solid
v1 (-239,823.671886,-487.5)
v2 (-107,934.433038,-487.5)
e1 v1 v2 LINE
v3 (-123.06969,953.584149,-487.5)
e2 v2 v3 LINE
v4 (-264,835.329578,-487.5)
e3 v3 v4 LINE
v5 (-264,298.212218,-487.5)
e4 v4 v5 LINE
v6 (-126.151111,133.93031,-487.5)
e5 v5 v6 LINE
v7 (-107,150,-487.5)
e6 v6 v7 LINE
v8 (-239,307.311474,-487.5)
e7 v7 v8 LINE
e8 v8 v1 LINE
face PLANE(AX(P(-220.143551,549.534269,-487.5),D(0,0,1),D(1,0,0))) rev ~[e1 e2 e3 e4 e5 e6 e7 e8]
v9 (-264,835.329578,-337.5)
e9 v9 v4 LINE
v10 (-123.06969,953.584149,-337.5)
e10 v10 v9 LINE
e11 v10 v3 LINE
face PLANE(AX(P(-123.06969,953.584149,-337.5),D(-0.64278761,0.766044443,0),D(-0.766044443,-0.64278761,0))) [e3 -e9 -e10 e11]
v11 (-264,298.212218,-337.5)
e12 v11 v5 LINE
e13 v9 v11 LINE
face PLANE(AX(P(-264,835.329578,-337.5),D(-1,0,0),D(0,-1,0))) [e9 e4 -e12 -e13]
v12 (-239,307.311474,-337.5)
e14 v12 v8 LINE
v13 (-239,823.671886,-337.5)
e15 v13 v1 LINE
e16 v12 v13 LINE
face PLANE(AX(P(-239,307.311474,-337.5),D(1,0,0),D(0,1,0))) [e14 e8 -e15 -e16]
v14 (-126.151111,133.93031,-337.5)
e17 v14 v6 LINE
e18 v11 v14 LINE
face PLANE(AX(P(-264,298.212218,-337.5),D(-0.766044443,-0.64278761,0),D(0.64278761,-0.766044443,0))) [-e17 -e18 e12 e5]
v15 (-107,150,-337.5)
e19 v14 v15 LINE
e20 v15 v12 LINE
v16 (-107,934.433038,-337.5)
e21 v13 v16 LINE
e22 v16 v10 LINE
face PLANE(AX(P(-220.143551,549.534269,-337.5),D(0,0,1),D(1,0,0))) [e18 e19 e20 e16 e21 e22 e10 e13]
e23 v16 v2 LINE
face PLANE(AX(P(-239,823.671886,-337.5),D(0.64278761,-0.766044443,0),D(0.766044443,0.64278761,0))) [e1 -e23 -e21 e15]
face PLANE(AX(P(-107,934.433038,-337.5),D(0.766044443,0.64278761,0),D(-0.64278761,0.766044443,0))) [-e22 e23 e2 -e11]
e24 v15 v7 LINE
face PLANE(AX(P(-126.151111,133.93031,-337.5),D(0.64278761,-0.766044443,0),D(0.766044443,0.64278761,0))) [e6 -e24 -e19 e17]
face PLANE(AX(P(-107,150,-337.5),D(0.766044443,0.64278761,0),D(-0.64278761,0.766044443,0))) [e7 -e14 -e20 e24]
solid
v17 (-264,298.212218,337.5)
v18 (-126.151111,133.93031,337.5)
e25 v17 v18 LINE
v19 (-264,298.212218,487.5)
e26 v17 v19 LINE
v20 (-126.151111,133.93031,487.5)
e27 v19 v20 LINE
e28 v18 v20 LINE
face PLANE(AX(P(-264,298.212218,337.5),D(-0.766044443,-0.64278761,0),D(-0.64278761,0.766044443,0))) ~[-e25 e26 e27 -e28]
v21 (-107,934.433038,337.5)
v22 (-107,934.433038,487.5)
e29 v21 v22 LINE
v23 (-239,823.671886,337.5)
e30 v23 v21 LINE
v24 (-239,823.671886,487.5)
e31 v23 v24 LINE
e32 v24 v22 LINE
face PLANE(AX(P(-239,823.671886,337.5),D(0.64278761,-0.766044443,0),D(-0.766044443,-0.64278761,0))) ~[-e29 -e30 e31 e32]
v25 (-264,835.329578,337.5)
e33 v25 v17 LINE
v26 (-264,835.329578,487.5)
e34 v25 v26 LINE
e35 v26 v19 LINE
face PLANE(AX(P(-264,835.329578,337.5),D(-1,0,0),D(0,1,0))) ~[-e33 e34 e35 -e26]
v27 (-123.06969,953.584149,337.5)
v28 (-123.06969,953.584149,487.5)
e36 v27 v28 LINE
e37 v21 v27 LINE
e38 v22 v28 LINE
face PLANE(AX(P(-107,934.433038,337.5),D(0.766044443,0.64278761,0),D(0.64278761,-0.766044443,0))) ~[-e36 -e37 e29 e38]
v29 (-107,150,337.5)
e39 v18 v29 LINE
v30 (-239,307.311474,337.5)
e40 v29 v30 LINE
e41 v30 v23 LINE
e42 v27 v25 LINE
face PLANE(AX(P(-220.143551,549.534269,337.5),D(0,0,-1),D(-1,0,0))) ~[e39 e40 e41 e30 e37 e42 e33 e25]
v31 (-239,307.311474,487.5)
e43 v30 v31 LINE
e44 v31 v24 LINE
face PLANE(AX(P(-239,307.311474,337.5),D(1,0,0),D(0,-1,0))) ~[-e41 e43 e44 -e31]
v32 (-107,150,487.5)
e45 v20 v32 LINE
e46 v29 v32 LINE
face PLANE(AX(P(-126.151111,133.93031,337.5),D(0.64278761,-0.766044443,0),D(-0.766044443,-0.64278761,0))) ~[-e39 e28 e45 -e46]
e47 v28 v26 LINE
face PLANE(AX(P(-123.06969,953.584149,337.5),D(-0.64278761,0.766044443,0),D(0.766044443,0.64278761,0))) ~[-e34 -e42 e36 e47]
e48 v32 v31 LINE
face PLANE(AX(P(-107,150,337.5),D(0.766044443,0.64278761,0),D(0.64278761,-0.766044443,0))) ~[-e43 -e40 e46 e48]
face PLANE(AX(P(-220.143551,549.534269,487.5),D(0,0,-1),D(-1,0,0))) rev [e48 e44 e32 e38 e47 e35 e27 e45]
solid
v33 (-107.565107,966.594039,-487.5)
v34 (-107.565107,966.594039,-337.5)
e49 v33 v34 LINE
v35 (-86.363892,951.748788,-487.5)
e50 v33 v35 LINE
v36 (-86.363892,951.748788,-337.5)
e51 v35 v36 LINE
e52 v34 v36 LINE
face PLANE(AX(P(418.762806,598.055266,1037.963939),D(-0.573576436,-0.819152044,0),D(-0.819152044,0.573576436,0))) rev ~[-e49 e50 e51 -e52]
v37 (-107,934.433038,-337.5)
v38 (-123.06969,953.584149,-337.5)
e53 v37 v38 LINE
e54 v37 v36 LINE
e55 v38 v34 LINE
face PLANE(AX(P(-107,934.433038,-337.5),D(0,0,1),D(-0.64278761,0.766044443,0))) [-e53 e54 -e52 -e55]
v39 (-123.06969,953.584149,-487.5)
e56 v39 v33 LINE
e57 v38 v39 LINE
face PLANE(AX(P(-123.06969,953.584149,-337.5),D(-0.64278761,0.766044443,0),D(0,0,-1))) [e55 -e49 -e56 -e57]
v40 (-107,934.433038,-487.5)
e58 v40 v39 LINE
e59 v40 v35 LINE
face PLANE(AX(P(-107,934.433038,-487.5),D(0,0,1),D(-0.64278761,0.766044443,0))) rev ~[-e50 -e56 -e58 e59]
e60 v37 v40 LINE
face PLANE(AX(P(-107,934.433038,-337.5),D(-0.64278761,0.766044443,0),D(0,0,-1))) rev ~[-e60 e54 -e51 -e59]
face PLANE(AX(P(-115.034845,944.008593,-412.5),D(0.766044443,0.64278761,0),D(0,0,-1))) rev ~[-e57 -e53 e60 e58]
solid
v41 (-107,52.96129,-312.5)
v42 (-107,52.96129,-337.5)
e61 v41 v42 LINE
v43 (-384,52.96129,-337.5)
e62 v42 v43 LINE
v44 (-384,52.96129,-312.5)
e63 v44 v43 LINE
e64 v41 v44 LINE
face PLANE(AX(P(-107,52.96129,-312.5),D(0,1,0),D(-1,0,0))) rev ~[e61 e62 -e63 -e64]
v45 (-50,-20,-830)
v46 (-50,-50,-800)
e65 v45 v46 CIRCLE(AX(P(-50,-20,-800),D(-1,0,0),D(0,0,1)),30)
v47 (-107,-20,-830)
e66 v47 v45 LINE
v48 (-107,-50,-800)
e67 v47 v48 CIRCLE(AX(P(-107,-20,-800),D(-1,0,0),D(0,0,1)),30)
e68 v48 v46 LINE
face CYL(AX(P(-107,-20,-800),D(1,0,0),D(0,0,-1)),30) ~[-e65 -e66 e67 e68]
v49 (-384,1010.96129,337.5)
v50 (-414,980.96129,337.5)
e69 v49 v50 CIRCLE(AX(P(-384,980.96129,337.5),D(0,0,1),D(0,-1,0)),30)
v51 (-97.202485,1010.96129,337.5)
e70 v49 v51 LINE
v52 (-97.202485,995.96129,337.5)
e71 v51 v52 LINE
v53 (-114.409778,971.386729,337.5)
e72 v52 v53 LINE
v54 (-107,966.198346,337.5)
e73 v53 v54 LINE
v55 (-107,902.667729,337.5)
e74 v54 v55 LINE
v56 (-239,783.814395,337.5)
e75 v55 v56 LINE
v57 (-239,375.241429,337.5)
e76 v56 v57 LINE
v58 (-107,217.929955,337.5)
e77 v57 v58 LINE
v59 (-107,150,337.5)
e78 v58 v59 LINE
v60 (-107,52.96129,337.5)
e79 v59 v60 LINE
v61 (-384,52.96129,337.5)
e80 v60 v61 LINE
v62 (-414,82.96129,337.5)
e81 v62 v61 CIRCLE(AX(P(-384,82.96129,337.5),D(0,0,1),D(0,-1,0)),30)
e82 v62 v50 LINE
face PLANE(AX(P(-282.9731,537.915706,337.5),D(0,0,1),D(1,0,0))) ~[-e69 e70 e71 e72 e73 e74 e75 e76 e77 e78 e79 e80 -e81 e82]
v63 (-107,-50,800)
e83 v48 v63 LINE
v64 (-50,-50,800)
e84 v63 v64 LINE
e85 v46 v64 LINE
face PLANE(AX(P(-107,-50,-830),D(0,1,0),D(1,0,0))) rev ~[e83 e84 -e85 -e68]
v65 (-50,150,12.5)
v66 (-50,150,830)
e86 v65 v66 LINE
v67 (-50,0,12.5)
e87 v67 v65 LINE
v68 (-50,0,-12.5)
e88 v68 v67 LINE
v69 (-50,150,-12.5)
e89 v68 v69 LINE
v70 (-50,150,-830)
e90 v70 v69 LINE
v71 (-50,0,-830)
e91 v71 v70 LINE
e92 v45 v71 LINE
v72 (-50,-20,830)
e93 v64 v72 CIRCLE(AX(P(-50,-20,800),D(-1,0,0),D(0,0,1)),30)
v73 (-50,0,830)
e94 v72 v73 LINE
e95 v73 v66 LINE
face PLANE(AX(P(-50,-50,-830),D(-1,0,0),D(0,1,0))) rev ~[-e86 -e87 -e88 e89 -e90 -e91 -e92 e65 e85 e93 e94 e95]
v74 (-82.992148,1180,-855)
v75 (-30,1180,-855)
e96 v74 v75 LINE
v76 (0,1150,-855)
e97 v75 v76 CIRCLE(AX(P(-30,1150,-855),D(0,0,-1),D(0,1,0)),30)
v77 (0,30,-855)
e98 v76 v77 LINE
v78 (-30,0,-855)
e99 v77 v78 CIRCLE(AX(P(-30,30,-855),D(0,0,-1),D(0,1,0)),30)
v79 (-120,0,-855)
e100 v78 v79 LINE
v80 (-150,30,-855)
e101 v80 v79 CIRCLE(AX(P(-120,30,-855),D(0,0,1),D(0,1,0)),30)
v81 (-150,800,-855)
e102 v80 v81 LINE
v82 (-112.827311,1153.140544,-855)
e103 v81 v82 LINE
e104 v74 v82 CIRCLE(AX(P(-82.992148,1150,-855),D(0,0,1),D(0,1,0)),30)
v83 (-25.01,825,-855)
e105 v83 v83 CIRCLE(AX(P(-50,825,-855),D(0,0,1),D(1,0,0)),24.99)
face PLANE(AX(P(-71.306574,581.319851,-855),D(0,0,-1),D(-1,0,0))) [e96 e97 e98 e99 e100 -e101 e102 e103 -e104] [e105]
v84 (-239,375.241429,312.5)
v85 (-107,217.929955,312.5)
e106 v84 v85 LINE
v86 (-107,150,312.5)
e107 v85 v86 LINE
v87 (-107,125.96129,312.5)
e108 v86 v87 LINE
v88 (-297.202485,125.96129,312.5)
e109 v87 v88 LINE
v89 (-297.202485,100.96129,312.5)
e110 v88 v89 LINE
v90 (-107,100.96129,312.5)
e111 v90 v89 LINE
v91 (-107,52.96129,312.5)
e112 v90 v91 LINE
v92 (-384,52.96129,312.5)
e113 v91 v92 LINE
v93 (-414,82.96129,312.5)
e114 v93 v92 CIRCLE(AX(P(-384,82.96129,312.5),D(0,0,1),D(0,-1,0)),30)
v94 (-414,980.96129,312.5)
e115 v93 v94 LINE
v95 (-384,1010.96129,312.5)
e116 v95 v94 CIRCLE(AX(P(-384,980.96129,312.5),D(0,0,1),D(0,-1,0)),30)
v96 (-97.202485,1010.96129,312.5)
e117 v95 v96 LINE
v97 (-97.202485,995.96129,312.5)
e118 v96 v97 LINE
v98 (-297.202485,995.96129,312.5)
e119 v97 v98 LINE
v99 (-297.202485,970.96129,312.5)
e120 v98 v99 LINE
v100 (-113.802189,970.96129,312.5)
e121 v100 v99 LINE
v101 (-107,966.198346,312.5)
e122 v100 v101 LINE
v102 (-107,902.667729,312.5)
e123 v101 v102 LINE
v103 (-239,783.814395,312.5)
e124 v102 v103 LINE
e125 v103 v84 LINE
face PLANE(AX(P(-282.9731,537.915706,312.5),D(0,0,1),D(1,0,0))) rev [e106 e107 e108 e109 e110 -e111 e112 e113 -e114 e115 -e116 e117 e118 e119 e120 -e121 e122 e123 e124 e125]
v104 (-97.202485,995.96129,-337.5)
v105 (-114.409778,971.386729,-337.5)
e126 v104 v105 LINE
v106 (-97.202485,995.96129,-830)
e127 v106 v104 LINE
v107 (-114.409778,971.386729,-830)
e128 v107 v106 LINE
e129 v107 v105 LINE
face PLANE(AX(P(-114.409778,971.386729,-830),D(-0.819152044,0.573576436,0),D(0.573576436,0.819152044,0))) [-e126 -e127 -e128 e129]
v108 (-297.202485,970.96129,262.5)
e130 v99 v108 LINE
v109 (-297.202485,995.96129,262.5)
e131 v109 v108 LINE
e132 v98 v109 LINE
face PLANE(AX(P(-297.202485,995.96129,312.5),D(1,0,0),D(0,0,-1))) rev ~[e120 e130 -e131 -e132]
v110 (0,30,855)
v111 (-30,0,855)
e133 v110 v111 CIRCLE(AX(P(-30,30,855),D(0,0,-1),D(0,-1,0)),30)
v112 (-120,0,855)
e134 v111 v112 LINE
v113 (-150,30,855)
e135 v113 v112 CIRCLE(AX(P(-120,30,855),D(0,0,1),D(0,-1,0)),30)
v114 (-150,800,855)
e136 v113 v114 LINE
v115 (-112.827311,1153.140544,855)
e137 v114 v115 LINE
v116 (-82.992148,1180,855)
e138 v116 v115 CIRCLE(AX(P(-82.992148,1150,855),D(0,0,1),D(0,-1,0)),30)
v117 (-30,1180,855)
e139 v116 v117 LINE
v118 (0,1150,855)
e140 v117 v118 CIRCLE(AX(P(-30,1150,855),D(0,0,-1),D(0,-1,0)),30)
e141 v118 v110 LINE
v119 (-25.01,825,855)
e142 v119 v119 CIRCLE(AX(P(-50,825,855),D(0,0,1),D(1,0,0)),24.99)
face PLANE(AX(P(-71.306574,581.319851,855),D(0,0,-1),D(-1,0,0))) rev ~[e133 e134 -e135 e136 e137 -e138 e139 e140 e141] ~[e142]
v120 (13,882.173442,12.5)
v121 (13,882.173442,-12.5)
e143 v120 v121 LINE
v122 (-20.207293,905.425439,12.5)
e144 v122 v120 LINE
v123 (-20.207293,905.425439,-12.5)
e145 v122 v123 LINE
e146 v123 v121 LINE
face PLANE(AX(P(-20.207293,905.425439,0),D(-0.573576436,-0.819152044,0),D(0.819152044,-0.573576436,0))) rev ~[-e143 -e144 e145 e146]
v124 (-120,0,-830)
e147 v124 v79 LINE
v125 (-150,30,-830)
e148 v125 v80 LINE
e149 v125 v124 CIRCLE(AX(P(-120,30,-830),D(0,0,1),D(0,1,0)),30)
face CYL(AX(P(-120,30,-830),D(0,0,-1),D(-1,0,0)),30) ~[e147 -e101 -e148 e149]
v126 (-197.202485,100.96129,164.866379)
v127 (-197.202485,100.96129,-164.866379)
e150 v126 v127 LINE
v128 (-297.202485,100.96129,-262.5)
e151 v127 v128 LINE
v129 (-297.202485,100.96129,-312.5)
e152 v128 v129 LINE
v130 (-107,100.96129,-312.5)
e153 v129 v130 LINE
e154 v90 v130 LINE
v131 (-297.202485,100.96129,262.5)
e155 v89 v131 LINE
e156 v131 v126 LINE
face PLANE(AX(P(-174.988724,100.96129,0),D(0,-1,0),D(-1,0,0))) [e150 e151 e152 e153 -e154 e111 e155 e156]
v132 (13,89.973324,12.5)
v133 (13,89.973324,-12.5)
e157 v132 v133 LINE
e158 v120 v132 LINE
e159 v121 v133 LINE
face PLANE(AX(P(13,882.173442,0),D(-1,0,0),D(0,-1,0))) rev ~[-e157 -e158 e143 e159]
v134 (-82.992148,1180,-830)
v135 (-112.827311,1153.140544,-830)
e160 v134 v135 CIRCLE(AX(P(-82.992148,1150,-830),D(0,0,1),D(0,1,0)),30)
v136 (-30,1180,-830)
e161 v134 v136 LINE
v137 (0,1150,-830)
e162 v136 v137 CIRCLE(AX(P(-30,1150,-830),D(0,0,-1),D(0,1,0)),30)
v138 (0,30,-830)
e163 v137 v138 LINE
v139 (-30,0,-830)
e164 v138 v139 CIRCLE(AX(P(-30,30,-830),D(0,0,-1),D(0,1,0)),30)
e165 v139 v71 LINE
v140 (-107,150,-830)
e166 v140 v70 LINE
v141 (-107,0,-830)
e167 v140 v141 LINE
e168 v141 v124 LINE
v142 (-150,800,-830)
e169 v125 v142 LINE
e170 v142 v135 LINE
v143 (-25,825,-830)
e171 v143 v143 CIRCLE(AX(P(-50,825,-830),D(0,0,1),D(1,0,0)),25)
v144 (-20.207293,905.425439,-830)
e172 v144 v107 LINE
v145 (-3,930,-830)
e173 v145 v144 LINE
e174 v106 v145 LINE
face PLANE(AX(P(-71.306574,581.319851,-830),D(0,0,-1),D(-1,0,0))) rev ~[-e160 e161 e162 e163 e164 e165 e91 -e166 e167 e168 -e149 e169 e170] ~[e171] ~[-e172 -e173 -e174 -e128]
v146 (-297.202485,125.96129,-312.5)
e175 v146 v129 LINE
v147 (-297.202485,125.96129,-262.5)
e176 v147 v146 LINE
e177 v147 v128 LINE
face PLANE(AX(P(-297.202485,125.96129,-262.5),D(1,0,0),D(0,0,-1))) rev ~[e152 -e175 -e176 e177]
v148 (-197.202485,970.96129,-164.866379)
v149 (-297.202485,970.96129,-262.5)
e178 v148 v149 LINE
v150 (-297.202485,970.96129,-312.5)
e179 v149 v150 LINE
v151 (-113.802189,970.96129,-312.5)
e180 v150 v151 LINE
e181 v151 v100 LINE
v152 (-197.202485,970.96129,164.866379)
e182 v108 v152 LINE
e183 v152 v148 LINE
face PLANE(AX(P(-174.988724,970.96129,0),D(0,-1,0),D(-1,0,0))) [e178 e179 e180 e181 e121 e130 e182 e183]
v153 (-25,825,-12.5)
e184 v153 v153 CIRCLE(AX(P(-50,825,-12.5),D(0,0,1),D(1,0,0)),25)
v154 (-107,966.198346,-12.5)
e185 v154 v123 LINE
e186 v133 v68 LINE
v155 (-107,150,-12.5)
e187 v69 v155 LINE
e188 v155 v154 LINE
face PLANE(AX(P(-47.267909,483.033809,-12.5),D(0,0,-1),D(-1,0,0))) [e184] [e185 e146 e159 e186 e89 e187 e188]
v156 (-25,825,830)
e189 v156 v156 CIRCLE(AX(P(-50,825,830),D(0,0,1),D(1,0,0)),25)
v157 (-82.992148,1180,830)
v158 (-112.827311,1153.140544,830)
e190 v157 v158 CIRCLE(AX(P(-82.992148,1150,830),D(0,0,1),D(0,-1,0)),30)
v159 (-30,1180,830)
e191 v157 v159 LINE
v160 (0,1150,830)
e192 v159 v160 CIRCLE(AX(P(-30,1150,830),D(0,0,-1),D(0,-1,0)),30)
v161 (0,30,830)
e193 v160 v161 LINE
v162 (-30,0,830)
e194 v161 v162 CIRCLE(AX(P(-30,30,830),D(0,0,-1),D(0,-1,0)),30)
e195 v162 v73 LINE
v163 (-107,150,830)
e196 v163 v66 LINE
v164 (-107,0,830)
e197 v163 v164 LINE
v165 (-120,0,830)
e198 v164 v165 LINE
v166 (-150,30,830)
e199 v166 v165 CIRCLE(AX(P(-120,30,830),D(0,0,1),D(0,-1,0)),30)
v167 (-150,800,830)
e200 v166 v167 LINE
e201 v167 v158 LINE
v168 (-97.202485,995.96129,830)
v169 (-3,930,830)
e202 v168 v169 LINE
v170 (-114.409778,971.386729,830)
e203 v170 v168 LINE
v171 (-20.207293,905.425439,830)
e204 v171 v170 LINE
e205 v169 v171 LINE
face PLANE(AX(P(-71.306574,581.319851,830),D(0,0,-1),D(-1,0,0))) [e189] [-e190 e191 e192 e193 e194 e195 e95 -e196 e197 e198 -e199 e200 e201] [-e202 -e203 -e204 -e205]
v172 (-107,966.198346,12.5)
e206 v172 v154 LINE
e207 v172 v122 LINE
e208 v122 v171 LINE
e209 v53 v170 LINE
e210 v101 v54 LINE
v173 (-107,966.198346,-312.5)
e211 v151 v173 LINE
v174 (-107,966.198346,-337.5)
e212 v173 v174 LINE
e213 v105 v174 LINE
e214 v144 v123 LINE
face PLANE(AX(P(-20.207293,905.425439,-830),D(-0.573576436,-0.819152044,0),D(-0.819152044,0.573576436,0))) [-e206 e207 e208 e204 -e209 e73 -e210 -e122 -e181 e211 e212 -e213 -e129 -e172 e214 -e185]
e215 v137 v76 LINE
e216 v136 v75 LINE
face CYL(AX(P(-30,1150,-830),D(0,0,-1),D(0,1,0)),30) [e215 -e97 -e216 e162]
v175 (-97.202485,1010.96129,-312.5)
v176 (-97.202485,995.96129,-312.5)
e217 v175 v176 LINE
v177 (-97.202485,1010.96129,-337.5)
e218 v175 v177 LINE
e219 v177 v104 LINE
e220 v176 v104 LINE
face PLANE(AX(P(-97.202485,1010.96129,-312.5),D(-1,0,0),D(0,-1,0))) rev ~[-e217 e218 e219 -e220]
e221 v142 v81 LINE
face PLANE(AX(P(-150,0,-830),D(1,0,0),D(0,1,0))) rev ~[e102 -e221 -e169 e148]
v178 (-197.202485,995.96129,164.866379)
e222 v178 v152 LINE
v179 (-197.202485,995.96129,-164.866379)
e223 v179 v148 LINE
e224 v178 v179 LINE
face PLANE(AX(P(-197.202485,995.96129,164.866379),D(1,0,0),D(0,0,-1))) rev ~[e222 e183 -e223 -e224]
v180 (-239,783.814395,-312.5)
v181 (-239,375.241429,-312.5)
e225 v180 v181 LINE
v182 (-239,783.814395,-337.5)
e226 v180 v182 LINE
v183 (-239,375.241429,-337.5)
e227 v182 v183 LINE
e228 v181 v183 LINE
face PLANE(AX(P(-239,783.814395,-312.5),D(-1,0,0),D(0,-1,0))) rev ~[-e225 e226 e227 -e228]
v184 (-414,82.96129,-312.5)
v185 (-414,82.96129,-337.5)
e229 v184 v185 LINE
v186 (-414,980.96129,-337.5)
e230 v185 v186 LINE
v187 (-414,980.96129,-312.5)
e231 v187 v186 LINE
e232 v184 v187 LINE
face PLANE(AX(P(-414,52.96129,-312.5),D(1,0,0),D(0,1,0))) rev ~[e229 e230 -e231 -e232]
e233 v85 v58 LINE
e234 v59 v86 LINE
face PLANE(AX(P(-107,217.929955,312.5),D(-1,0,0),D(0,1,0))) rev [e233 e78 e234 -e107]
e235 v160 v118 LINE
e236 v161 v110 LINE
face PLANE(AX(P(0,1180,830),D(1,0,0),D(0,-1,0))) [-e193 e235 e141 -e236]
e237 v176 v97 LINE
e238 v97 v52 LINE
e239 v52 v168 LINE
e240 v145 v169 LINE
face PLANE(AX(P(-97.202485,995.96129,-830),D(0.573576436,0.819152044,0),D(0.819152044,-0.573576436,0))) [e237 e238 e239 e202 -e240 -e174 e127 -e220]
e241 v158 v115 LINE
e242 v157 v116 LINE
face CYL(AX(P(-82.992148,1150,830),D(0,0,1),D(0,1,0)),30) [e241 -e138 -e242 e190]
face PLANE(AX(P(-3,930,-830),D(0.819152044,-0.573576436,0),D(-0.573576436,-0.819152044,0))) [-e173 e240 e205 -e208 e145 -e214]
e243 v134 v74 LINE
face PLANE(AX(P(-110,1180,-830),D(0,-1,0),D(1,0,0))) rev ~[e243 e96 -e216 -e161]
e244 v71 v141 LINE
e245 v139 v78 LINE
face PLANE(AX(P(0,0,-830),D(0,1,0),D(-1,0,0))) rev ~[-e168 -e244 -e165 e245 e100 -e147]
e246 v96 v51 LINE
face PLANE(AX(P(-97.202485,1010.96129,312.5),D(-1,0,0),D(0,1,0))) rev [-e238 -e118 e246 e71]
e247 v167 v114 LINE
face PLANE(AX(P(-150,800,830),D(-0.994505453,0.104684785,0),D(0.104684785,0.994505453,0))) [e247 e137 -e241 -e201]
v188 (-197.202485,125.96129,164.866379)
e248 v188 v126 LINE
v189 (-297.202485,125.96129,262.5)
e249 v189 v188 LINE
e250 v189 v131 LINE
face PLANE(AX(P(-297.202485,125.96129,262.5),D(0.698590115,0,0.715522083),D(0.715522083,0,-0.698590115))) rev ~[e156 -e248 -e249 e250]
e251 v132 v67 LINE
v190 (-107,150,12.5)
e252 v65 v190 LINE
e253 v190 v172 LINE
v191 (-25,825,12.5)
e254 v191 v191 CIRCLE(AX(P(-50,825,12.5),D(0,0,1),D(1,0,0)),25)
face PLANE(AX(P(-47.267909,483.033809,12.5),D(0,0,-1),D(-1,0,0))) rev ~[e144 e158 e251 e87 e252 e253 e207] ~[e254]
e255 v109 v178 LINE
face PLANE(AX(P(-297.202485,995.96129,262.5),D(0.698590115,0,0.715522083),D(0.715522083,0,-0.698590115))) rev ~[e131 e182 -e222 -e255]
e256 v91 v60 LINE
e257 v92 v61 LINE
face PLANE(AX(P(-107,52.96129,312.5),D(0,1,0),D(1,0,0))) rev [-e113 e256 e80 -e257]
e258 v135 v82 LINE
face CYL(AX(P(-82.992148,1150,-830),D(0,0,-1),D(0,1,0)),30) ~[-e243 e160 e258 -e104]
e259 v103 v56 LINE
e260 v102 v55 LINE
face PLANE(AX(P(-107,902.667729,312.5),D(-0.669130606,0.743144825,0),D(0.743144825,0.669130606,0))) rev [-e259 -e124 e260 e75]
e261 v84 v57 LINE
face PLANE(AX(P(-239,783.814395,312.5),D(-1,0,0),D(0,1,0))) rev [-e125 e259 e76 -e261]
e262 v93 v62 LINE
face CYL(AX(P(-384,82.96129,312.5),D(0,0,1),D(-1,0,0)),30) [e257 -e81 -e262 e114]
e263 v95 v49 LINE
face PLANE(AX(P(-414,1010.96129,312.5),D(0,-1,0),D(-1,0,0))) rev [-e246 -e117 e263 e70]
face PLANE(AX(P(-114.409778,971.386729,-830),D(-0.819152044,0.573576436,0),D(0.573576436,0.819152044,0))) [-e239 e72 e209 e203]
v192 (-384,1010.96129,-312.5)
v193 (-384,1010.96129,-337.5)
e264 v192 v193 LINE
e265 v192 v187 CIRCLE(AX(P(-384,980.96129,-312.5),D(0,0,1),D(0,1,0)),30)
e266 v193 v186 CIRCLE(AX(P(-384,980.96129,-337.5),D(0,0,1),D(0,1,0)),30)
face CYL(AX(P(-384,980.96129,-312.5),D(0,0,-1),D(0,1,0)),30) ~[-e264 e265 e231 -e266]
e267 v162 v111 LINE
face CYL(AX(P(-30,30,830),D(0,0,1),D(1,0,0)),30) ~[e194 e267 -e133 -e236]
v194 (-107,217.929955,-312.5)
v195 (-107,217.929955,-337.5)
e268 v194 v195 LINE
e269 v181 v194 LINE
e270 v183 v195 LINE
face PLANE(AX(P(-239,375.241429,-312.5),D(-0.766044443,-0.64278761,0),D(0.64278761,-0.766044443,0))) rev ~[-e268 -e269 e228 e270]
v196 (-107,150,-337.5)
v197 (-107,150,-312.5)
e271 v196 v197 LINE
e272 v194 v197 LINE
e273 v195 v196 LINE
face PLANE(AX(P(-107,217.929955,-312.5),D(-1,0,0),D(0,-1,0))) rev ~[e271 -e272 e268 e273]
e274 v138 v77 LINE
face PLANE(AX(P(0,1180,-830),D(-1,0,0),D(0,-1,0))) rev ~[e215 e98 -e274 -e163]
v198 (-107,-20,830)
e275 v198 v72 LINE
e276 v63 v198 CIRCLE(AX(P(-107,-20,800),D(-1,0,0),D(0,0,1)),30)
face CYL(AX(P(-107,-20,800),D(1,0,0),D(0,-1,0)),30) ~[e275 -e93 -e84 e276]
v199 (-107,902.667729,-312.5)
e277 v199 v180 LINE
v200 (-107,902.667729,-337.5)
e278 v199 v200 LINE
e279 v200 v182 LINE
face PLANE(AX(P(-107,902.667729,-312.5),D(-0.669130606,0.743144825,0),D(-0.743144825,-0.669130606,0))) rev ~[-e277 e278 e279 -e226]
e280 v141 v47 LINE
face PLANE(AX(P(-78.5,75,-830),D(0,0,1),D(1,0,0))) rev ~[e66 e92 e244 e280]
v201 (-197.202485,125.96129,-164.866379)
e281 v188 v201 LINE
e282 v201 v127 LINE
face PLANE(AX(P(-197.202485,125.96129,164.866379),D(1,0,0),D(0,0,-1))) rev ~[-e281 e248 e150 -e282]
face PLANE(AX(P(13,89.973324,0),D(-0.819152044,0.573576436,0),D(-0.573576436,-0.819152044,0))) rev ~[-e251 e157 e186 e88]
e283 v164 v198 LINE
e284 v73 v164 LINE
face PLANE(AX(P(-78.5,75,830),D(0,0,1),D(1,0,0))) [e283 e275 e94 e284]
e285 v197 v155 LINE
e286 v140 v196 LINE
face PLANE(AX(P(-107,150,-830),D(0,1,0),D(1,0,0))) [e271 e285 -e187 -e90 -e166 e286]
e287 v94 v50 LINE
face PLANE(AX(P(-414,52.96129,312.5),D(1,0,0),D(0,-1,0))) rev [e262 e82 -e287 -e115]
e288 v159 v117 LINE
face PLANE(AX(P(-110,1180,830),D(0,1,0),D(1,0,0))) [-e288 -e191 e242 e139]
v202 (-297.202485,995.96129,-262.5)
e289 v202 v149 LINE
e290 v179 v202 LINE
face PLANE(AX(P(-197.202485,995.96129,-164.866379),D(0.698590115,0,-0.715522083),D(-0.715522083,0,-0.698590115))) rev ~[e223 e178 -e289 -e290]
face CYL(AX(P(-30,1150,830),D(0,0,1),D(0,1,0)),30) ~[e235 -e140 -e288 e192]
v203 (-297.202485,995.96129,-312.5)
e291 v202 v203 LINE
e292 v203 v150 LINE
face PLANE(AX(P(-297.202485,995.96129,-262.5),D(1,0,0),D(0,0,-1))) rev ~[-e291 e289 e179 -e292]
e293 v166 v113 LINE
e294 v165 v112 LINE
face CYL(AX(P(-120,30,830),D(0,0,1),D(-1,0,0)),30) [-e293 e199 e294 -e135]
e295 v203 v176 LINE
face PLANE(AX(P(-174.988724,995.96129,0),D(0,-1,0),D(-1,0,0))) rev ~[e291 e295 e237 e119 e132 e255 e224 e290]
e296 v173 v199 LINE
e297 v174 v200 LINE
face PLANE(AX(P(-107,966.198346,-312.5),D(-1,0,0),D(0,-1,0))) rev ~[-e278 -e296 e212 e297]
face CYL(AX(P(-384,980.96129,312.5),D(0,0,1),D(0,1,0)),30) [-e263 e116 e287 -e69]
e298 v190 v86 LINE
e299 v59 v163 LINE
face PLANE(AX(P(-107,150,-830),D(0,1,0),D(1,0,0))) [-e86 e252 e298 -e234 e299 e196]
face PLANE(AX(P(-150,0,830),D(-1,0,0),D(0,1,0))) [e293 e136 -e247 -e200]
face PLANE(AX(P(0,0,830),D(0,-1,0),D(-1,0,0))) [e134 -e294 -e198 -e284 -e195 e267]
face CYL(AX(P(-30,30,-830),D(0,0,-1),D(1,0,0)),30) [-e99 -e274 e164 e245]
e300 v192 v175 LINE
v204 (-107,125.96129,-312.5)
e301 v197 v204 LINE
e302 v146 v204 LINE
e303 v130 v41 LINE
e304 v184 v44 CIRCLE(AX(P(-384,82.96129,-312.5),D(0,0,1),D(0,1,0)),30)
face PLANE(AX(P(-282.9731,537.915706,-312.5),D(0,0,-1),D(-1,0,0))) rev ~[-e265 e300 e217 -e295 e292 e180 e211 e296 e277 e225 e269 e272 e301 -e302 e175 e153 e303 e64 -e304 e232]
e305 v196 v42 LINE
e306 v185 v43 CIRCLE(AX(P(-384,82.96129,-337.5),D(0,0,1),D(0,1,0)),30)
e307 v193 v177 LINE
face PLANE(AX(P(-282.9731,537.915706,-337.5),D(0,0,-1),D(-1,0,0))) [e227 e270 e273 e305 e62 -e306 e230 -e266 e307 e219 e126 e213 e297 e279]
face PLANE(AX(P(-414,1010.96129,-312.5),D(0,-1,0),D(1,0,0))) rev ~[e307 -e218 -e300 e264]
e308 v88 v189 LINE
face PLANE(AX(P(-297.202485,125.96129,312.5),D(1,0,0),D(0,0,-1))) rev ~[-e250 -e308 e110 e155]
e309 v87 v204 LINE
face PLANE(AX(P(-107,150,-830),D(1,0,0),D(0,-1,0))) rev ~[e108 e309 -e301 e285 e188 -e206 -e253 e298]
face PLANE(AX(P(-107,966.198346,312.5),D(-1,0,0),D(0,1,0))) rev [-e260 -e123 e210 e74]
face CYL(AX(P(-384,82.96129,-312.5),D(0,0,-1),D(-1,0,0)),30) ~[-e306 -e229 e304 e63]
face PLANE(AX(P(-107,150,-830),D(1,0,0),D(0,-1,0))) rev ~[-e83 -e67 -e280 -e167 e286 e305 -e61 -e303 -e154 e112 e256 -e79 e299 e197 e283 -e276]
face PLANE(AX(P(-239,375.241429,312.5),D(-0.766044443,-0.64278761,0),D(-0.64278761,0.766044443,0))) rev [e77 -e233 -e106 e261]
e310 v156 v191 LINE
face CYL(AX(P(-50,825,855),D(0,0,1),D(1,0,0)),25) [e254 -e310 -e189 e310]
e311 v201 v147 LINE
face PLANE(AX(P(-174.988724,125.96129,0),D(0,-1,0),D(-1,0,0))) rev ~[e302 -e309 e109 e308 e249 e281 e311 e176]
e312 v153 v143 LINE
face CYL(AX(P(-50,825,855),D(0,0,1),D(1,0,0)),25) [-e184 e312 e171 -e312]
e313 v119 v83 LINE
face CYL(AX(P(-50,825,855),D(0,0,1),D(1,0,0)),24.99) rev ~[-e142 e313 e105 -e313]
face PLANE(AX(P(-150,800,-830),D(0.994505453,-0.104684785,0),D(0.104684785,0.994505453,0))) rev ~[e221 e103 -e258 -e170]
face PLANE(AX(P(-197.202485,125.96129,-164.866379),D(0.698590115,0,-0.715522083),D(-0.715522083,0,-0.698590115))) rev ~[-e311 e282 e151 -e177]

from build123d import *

# Parameters (mm, degrees)
BOSS_EXTRUDE1_START = 830
BOSS_EXTRUDE1_DEPTH = 25
BOSS_EXTRUDE2_START = -830
BOSS_EXTRUDE2_DEPTH = 25
SKETCH2_W           = 57
SKETCH2_H           = 150
SKETCH2_H_2         = 50
BOSS_EXTRUDE3_DEPTH = 1660
BOSS_EXTRUDE4_DEPTH = 12.5
SKETCH4_R           = 25
CUT_EXTRUDE1_DEPTH  = 2084.026644093
SKETCH5_R           = 25
SKETCH5_R_2         = 24.99
BOSS_EXTRUDE5_DEPTH = 1710
BOSS_EXTRUDE6_START = 300
BOSS_EXTRUDE6_DEPTH = 25
EXTRUDE_THIN2_DEPTH = 150
BOSS_EXTRUDE8_REACH = 1453.211
SKETCH8_W           = 150
SKETCH8_H           = 25
BOSS_EXTRUDE9_DEPTH = 25
LPATTERN1_COUNT     = 2
LPATTERN1_PITCH     = 870
FILLET1_R           = 30


with BuildPart() as part:
    # Sketch1 → Boss-Extrude1 (new body)
    with BuildSketch(Plane.XY.offset(BOSS_EXTRUDE1_START)):
        Polygon((0, 1180), (0, 0), (-150, 0), (-150, 800), (-110, 1180), align=None)
    extrude(amount=BOSS_EXTRUDE1_DEPTH)



with BuildPart() as body_2:
    # Sketch1<2> → Boss-Extrude2 (new body)
    with BuildSketch(Plane.XY.offset(BOSS_EXTRUDE2_START)):
        Polygon((0, 1180), (0, 0), (-150, 0), (-150, 800), (-110, 1180), align=None)
    extrude(amount=-BOSS_EXTRUDE2_DEPTH)


with BuildPart() as part_1:
    add(part.part)

    add(body_2.part)  # Boss-Extrude3 merges body 2
    # Sketch2 → Boss-Extrude3 (add)
    with BuildSketch(Plane.XY.offset(-830)):
        Polygon((-20.207293091, 905.425438671), (-114.409778184, 971.386728852), (-97.202485093, 995.96129018), (-3, 930), align=None)
        with Locations((-78.5, 75)):
            Rectangle(SKETCH2_W, SKETCH2_H)
        with Locations((-78.5, -25)):
            Rectangle(SKETCH2_W, SKETCH2_H_2)
    extrude(amount=BOSS_EXTRUDE3_DEPTH)

    # Sketch3 → Boss-Extrude4 (add, symmetric)
    with BuildSketch(Plane.XY):
        Polygon((-107, 150), (-107, 966.198346311), (-20.207293091, 905.425438671), (13, 882.173441726), (13, 89.973324425), (-50, 0), (-50, 150), align=None)
    extrude(amount=BOSS_EXTRUDE4_DEPTH, both=True)

    # Sketch4 → Cut-Extrude1 (cut, through all)
    with BuildSketch(Plane.XY.offset(855)):
        with Locations((-50, 825)):
            Circle(SKETCH4_R)
    extrude(amount=-CUT_EXTRUDE1_DEPTH, mode=Mode.SUBTRACT)

    # Sketch5 → Boss-Extrude5 (add)
    with BuildSketch(Plane.XY.offset(855)):
        with Locations((-50, 825)):
            Circle(SKETCH5_R)
        with Locations((-50, 825)):
            Circle(SKETCH5_R_2, mode=Mode.SUBTRACT)
    extrude(amount=-BOSS_EXTRUDE5_DEPTH)

    # Sketch6 → Boss-Extrude6 (add)
    with BuildSketch(Plane(origin=(0, 0, -12.5), x_dir=(-1, 0, 0), z_dir=(0, 0, -1)).offset(BOSS_EXTRUDE6_START)):
        Polygon((107, 217.929954778), (107, 150), (107, 52.96129018), (414, 52.96129018), (414, 1010.96129018), (97.202485093, 1010.96129018), (97.202485093, 995.96129018), (114.409778184, 971.386728852), (107, 966.198346311), (107, 902.667728725), (239, 783.814394878), (239, 375.241429), align=None)
    extrude(amount=BOSS_EXTRUDE6_DEPTH)


with BuildPart() as body_2_2:
    # Sketch7 → Extrude-Thin2 (new body)
    with BuildSketch(Plane(origin=(0, 0, -337.5), x_dir=(-1, 0, 0), z_dir=(0, 0, -1))):
        Polygon((107, 150), (239, 307.311474222), (239, 823.671886203), (107, 934.433037518), (123.069690242, 953.584148596), (264, 835.329577657), (264, 298.212218366), (126.151111078, 133.930309758), align=None)
    extrude(amount=EXTRUDE_THIN2_DEPTH)


with BuildPart() as body_3:
    # Boss-Extrude8: up to this plane
    boss_extrude8_end = Plane(origin=(418.76280579, 598.055266387, 1037.963939182), z_dir=(-0.5735764363510432, -0.8191520442889939, 0))
    # Sketch8 → Boss-Extrude8 (new, up to the surface)
    with BuildSketch(Plane(origin=(397.328272504, 333.398006914, 0), x_dir=(0, 0, -1), z_dir=(0.7660444431189801, 0.6427876096865369, 0)), mode=Mode.PRIVATE) as boss_extrude8_sk1:
        with Locations((412.5, 797.095510094)):
            Rectangle(SKETCH8_W, SKETCH8_H)
    boss_extrude8_tool1 = split(extrude(boss_extrude8_sk1.sketch, amount=BOSS_EXTRUDE8_REACH, mode=Mode.PRIVATE), bisect_by=boss_extrude8_end, keep=Keep.BOTH, mode=Mode.PRIVATE)
    add(boss_extrude8_tool1.solids().sort_by_distance((-115.034845, 944.008593, -412.5))[0])


with BuildPart() as body_4:
    # Mirror2: mirrored copy
    add(body_2_2.part.mirror(Plane.XY))


with BuildPart() as body_5:
    # Mirror2 2: mirrored copy
    add(part_1.part.mirror(Plane.XY))


with BuildPart() as part_2:
    add(part_1.part)

    add(body_5.part)  # Boss-Extrude9 merges body 5
    # Sketch9 → Boss-Extrude9 (add)
    with BuildSketch(Plane(origin=(0, 995.96129018, 0), x_dir=(1, 0, 0), z_dir=(0, 1, 0))):
        Polygon((-297.202485093, 312.5), (-97.202485093, 312.5), (-97.202485093, -312.5), (-297.202485093, -312.5), (-297.202485093, -262.5), (-197.202485093, -164.866379419), (-197.202485093, 164.866379419), (-297.202485093, 262.5), align=None)
    boss_extrude9 = extrude(amount=-BOSS_EXTRUDE9_DEPTH)

    # LPattern1: Boss-Extrude9 ×2
    with Locations(*[(0, -i * LPATTERN1_PITCH, 0) for i in range(1, LPATTERN1_COUNT)]):
        add(boss_extrude9)

    # Fillet1
    fillet1_edges = [part_2.edges().sort_by_distance(p)[0] for p in [
        (-414, 52.96129018, -325),
        (-414, 1010.96129018, -325),
        (-414, 52.96129018, 325),
        (-414, 1010.96129018, 325),
        (-110, 1180, -842.5),
        (0, 1180, -842.5),
        (0, 0, -842.5),
        (-150, 0, -842.5),
        (-78.5, -50, 830),
        (-78.5, -50, -830),
        (0, 1180, 842.5),
        (0, 0, 842.5),
        (-150, 0, 842.5),
        (-110, 1180, 842.5),
    ]]
    fillet(fillet1_edges, radius=FILLET1_R)


solid = Compound([body_2_2.part, body_3.part, body_4.part, part_2.part])
